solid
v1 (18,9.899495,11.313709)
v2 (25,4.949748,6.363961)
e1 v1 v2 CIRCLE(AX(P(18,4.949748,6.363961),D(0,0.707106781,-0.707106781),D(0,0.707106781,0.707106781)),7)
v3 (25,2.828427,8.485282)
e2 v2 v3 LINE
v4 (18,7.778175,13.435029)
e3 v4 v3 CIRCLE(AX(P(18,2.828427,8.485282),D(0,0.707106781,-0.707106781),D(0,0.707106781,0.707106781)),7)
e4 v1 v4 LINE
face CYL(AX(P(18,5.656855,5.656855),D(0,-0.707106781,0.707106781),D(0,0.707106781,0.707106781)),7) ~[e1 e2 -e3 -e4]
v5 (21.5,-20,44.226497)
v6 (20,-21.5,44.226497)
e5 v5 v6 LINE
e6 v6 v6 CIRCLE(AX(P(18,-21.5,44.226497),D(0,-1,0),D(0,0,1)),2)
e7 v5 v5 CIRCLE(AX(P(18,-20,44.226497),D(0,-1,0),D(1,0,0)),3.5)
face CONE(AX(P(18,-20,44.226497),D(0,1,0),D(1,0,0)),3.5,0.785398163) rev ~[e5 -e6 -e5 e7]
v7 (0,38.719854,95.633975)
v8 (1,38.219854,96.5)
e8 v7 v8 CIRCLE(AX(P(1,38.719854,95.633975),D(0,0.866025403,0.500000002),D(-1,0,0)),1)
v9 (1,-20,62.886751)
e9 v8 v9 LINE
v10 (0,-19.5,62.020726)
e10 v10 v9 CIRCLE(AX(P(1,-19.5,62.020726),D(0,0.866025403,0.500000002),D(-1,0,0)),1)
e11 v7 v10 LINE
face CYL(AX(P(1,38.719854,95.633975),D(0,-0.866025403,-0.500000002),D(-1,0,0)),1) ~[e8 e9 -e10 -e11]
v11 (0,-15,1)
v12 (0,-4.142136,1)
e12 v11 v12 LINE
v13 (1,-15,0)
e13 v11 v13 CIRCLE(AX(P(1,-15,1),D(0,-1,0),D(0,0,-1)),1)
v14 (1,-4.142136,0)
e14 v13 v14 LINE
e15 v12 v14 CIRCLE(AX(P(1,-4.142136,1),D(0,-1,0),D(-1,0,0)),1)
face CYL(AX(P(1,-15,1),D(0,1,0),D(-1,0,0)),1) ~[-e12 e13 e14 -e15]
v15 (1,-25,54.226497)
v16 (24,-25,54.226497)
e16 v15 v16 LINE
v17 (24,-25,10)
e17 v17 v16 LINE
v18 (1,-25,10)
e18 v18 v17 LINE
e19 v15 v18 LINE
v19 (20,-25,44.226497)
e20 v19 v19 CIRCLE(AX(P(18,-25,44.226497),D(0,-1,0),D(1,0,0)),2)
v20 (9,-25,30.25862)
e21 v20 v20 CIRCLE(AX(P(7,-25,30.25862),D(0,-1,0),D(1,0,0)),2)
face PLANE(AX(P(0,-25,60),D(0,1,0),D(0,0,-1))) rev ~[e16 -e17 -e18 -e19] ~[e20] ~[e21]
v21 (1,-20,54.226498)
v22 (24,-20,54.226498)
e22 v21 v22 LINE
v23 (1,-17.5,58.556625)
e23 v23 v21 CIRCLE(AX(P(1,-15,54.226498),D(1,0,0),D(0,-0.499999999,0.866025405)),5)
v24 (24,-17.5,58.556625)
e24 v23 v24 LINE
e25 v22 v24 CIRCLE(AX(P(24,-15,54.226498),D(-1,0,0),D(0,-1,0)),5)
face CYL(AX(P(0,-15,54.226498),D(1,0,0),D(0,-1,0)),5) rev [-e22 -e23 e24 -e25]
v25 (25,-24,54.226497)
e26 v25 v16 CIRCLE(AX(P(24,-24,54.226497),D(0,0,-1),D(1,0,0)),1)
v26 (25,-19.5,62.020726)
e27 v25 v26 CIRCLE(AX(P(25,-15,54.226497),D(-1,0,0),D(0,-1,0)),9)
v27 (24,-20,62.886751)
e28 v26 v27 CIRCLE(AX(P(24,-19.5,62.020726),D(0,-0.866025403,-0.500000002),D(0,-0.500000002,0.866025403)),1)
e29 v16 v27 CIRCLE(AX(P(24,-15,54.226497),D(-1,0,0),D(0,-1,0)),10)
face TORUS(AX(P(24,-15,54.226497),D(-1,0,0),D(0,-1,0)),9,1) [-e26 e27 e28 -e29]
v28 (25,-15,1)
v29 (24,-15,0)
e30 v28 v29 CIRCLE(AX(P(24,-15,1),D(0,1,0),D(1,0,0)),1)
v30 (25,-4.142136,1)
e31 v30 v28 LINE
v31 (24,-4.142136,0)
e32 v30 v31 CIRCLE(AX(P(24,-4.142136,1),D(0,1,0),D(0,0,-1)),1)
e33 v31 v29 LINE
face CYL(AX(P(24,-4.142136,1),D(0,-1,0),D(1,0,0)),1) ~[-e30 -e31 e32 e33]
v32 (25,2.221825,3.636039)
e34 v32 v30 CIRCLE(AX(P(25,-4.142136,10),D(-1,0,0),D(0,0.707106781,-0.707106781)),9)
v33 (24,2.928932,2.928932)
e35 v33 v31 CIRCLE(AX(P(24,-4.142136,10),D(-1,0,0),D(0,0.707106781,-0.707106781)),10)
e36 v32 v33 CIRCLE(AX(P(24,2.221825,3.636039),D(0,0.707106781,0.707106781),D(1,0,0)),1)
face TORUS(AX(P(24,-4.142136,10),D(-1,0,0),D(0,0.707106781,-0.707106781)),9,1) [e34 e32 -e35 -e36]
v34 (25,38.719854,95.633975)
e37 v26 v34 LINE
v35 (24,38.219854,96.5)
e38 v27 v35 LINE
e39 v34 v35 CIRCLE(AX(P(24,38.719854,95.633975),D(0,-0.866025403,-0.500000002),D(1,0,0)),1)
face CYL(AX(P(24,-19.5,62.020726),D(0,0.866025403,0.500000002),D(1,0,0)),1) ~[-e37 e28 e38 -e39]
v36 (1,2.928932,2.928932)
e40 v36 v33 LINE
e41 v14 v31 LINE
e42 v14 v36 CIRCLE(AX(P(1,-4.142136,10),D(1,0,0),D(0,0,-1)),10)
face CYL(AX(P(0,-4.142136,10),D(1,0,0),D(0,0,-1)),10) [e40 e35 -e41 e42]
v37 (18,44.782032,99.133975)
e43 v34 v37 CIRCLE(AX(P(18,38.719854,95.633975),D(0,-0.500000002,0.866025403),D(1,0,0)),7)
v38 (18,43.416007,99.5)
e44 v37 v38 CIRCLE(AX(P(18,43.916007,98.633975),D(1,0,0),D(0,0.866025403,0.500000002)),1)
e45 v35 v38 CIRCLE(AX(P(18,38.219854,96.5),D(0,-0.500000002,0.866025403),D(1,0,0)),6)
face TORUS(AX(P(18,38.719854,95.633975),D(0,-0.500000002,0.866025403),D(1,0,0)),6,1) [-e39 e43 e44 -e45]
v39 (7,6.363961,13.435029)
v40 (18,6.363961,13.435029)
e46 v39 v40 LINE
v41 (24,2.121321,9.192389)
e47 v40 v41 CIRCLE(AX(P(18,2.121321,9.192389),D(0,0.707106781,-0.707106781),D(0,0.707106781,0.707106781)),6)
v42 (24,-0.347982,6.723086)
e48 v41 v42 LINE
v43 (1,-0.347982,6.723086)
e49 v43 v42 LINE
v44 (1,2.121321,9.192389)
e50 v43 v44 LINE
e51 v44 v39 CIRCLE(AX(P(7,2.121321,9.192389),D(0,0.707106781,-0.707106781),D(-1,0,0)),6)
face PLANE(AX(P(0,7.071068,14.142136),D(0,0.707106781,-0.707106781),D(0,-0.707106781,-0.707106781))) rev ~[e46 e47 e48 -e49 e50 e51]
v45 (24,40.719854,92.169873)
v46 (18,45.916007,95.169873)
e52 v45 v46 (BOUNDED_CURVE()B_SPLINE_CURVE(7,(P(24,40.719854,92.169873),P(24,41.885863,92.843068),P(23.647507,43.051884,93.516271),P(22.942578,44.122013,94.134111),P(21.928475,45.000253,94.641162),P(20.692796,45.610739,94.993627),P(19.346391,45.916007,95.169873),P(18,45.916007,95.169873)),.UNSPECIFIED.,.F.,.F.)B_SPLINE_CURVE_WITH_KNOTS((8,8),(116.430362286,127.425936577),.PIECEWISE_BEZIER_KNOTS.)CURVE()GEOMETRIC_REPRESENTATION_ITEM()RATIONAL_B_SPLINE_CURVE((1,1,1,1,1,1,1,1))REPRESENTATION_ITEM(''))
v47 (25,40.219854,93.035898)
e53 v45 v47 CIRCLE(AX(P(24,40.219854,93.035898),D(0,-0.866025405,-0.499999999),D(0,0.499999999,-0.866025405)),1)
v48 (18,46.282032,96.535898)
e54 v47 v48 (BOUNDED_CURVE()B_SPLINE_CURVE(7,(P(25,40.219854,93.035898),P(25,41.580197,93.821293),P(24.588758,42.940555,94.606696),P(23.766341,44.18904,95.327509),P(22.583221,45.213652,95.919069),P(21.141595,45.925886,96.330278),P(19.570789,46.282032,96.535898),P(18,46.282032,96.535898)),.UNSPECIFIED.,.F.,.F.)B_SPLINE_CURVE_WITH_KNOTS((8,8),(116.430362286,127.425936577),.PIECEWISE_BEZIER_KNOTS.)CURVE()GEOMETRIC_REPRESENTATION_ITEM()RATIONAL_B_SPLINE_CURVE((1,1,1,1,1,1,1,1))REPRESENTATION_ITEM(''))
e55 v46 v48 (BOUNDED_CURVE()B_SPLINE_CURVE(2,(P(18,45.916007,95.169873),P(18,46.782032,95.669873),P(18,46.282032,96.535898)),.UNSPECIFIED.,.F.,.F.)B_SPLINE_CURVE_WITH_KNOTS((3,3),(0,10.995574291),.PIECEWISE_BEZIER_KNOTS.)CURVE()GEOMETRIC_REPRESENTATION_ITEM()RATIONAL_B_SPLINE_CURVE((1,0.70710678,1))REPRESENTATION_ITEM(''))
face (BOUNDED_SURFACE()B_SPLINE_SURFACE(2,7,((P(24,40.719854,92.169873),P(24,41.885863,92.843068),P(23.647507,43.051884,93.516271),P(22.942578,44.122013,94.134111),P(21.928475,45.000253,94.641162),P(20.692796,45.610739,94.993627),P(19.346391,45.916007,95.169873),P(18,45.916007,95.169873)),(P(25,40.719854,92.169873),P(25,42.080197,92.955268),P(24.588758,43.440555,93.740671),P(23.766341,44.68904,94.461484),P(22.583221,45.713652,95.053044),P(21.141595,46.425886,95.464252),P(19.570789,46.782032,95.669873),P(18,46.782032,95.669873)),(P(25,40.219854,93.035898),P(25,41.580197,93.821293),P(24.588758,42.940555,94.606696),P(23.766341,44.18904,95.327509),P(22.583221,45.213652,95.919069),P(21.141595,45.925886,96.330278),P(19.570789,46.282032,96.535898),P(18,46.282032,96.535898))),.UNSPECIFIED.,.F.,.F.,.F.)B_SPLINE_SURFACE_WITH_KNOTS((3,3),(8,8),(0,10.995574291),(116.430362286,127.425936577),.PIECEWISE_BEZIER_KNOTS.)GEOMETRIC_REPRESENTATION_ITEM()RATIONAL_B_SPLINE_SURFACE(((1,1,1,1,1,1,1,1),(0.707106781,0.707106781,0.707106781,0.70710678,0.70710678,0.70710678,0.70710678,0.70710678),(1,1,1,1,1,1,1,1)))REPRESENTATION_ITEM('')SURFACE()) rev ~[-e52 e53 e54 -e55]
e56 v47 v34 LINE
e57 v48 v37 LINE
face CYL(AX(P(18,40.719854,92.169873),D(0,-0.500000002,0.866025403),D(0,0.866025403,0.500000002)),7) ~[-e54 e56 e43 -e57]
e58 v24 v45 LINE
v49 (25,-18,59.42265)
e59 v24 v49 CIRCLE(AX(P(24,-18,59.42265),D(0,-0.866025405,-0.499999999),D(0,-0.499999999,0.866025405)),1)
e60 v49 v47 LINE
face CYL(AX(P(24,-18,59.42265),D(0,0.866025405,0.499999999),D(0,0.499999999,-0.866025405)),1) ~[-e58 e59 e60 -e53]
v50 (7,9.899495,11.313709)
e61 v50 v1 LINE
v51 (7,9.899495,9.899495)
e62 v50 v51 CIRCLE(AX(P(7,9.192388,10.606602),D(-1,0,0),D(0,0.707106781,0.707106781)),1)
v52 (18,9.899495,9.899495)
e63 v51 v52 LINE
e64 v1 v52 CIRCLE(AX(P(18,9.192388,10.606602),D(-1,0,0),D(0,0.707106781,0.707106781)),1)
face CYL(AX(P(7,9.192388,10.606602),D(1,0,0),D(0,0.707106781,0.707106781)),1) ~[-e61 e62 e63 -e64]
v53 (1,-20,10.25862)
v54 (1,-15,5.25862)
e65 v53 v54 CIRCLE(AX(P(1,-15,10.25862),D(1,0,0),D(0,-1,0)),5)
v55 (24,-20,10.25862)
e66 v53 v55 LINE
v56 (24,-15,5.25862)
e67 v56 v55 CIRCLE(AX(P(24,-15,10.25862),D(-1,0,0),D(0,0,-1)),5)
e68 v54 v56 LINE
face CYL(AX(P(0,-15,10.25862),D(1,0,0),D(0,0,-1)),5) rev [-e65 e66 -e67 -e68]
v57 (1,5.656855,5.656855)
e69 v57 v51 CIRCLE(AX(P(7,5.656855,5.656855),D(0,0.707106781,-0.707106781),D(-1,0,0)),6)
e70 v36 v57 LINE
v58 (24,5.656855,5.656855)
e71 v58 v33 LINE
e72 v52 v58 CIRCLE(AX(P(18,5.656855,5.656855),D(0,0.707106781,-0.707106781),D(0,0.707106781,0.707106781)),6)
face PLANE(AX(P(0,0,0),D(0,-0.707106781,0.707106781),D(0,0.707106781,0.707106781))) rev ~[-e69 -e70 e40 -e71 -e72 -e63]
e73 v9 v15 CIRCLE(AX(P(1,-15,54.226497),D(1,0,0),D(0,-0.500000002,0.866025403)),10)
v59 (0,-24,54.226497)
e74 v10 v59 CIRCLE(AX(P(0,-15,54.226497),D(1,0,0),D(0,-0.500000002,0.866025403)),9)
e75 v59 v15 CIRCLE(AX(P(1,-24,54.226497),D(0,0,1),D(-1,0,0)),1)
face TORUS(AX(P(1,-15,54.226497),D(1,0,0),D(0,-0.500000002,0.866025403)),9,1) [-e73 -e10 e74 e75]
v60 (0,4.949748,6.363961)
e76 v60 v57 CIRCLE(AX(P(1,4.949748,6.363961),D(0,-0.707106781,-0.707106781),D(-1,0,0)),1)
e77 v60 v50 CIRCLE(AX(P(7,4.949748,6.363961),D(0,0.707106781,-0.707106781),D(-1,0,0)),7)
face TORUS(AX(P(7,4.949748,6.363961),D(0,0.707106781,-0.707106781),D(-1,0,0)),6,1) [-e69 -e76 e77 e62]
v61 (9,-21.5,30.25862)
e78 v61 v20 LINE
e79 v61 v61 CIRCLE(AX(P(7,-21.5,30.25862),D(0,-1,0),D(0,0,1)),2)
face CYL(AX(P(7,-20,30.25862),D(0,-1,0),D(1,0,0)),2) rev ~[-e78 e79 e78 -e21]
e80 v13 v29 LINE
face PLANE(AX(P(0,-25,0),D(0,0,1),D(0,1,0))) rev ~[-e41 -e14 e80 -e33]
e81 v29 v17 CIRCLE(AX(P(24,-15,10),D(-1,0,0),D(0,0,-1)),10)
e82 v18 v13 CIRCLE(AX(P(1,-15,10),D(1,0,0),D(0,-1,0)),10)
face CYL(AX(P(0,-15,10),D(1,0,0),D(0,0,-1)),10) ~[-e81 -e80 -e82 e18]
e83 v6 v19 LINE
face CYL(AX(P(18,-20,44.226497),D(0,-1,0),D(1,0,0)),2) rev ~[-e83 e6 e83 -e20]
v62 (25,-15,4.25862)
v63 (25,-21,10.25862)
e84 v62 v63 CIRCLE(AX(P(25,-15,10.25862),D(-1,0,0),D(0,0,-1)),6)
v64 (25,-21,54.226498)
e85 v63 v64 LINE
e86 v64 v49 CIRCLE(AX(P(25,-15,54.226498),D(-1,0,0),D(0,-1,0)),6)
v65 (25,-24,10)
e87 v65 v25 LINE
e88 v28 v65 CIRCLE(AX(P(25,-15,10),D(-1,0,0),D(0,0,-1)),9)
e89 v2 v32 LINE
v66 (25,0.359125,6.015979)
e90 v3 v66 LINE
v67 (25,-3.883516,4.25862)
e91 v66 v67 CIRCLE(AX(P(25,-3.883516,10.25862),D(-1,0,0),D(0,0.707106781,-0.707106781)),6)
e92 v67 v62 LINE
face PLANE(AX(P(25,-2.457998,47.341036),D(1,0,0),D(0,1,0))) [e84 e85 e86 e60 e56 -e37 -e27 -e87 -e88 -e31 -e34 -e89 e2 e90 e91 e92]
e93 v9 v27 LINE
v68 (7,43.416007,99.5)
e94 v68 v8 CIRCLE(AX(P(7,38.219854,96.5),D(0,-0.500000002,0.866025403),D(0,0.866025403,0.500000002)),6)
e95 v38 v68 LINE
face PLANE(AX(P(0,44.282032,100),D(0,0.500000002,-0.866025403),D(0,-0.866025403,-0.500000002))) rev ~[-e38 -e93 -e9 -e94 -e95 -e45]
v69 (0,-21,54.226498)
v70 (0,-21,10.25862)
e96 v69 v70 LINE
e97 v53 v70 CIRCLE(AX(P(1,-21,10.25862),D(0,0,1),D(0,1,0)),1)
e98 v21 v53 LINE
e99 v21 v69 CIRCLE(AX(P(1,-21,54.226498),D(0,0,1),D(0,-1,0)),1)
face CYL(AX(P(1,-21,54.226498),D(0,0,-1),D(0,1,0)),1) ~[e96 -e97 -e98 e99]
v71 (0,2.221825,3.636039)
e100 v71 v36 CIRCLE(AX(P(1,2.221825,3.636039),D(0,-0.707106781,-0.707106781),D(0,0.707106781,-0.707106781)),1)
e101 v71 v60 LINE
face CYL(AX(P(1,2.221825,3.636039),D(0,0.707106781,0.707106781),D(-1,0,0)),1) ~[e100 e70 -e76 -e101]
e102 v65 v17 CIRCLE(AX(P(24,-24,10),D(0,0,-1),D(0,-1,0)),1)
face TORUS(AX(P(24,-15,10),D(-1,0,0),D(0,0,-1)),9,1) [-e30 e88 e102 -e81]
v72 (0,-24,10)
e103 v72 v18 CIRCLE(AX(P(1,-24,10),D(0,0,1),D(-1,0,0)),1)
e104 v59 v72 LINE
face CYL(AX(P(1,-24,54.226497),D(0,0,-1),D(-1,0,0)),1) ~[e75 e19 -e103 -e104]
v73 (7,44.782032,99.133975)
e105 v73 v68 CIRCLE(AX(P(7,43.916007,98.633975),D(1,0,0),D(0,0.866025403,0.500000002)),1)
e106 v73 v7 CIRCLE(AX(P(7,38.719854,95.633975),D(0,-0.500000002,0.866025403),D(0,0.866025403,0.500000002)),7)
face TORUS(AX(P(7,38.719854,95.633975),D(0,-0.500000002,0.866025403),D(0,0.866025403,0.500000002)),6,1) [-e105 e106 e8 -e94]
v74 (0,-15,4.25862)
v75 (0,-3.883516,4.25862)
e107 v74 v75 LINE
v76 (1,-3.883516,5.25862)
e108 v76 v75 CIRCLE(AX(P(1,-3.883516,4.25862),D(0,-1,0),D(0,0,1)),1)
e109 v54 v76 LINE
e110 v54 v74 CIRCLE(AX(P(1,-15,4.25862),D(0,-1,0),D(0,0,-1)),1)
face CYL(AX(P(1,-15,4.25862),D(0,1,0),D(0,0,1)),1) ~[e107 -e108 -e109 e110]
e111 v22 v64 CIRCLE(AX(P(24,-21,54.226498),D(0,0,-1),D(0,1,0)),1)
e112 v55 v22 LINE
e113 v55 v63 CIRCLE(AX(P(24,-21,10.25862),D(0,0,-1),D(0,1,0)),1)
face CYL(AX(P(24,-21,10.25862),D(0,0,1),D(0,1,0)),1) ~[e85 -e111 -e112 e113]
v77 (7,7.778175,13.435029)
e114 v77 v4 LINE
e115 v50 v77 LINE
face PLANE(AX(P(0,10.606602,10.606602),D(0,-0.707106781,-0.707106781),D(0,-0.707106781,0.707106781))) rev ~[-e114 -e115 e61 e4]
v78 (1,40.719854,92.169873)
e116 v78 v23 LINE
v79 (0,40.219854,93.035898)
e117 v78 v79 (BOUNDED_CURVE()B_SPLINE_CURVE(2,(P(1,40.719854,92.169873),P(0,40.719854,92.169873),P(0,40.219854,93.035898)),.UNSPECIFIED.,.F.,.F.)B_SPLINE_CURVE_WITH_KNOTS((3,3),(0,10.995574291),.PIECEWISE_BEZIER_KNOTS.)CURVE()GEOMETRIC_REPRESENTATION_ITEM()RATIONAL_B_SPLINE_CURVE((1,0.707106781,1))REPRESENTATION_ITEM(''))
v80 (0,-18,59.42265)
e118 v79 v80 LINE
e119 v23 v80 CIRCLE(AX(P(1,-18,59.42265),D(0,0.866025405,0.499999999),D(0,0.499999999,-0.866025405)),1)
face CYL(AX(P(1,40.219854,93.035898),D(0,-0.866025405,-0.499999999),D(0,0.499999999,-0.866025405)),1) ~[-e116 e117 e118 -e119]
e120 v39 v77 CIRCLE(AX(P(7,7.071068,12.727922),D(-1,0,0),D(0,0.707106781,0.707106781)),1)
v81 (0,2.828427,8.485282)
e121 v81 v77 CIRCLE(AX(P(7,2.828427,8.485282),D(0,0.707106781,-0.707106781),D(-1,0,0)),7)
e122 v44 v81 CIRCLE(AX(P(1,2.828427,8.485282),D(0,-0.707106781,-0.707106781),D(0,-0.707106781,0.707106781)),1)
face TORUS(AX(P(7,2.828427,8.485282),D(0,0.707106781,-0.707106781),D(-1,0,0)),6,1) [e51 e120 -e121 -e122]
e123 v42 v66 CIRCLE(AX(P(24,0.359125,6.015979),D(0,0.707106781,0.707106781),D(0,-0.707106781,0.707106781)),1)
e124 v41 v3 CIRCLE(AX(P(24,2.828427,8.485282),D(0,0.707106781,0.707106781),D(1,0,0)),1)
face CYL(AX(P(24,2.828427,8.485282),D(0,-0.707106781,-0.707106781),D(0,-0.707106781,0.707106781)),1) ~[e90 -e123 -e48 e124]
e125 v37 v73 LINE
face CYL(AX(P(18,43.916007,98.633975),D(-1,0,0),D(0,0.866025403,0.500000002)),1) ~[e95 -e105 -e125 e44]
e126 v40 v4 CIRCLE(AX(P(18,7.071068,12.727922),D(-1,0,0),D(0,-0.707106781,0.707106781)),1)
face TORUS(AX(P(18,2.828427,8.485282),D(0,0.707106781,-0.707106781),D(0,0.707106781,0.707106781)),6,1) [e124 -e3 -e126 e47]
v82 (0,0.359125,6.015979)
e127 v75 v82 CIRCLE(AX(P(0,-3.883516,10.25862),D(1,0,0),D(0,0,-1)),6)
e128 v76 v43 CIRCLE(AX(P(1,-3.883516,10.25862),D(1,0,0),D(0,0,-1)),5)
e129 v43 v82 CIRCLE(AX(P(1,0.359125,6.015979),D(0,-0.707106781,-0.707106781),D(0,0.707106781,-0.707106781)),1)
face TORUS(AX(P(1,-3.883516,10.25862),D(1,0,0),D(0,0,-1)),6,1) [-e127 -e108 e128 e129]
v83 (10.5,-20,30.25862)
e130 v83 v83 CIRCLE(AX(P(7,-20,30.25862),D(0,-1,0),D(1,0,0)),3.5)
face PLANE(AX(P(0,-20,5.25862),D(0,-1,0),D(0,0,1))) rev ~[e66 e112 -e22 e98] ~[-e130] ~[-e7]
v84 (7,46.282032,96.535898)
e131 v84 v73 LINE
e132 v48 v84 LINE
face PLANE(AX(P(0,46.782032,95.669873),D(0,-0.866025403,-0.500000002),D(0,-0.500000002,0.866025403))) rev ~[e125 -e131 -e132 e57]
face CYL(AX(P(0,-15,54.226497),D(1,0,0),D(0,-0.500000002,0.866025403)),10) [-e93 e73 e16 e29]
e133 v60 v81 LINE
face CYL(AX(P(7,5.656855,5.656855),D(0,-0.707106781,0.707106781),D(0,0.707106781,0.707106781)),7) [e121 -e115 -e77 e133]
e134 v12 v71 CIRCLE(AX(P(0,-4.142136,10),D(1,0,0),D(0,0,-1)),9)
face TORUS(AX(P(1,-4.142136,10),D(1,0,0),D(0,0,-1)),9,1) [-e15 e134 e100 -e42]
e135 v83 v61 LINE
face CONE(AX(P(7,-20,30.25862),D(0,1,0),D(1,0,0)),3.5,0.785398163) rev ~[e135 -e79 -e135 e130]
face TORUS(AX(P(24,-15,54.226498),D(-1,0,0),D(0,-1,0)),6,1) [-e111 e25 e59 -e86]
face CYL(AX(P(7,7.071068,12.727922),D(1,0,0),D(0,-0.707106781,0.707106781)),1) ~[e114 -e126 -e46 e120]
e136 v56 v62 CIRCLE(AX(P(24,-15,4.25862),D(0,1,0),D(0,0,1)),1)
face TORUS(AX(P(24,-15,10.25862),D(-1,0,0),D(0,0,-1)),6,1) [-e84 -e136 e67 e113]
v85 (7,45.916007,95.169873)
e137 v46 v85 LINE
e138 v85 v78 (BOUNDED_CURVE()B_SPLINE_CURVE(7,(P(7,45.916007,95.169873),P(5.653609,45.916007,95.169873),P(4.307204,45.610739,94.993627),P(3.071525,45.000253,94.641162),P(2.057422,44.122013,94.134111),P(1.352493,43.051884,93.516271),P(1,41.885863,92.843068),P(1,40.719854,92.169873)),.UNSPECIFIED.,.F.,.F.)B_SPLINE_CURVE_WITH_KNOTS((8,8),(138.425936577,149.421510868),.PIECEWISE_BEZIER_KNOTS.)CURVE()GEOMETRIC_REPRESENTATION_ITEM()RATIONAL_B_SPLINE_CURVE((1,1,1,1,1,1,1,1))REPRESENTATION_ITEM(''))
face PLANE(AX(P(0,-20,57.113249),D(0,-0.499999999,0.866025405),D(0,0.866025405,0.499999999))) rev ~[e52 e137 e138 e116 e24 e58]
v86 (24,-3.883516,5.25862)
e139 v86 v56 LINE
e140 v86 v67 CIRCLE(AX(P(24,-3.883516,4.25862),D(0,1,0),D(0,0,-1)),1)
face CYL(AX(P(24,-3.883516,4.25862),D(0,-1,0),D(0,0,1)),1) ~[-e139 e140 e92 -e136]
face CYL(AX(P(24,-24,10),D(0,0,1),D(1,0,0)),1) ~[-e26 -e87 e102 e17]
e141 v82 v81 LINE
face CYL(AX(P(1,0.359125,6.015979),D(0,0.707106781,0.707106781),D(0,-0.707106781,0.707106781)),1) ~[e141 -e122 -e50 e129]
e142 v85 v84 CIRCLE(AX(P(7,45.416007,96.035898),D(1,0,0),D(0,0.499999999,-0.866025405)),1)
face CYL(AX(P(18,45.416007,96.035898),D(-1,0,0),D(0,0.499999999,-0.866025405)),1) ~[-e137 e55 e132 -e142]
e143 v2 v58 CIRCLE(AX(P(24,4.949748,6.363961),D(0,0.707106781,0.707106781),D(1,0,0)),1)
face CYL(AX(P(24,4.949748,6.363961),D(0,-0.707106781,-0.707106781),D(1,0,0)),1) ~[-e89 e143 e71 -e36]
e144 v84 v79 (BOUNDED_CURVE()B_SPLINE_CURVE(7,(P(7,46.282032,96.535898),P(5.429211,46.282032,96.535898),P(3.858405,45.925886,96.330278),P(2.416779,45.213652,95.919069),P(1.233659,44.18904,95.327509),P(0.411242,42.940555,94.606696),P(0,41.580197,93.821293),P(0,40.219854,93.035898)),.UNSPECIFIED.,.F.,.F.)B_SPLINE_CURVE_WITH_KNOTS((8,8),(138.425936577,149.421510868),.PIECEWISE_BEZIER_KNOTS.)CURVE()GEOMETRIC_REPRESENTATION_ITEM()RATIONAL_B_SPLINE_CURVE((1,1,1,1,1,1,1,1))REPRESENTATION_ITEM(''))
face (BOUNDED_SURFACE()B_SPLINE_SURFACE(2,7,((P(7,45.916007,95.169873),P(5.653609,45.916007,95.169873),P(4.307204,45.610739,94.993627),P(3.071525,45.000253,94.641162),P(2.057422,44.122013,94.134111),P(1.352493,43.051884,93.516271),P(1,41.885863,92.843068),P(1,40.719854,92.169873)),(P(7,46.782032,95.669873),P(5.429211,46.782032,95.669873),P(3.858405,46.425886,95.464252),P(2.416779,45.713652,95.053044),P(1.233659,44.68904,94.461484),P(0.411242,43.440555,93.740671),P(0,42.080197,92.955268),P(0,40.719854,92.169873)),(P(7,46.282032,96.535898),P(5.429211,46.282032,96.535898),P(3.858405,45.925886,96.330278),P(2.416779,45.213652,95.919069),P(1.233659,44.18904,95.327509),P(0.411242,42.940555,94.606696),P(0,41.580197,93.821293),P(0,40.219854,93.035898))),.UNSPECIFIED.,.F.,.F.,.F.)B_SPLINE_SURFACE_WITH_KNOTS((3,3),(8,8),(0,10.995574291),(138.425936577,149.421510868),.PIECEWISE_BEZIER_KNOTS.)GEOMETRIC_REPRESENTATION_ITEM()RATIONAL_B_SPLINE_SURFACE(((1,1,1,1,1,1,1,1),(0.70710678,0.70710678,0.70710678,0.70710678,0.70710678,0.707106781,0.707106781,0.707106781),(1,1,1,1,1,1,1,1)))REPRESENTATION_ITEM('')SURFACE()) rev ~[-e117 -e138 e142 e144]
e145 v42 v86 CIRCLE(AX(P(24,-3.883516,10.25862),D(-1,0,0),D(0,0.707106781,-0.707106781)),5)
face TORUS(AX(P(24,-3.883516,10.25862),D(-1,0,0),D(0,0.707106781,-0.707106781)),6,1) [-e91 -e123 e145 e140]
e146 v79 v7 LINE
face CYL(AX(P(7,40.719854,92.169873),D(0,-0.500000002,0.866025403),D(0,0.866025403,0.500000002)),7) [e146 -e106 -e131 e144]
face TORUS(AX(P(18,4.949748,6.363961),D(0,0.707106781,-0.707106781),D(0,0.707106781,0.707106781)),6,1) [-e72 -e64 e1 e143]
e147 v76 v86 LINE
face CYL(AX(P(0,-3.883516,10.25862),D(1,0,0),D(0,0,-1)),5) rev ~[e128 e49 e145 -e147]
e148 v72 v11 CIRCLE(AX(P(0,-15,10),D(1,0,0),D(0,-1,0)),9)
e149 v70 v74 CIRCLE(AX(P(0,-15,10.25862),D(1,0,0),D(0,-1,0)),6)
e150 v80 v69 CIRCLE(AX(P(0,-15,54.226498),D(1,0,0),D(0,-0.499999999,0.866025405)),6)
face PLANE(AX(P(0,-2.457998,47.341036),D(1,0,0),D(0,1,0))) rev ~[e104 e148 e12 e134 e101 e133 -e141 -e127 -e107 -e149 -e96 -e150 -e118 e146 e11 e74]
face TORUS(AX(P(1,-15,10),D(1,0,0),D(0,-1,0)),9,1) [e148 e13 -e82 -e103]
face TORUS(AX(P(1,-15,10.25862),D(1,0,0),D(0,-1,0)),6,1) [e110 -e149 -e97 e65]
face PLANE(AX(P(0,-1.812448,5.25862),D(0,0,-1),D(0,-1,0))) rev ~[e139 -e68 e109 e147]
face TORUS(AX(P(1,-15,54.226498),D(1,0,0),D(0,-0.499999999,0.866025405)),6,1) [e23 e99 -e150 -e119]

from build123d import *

# Parameters (mm, degrees)
F1_DEPTH        = 25
F2_R            = 7
F3_R            = 5
F4_R            = 10
F5_R            = 5
F6_R            = 10
F7_R            = 10
F8_R            = 1
F9_R            = 5
F10_R           = 1
F12_D           = 4
F12_CSINK_D     = 7
F12_CSINK_ANGLE = 90


with BuildPart() as f1:
    # F0 (on Right) → F1 (new body)
    with BuildSketch(Plane.YZ):
        Polygon((-25, 60), (-25, 0), (0, 0), (10.606602, 10.606602), (7.071068, 14.142136), (-1.812448, 5.25862), (-20, 5.25862), (-20, 57.113249), (46.782032, 95.669873), (44.282032, 100), align=None)
    extrude(amount=F1_DEPTH)

    # F2
    f2_edges = [f1.edges().sort_by_distance(p)[0] for p in [
        (25, 8.838835, 12.374369),
        (0, 8.838835, 12.374369),
        (25, 45.532032, 97.834936),
        (0, 45.532032, 97.834936),
    ]]
    fillet(f2_edges, radius=F2_R)

    # F3
    f3_edges = [f1.edges().sort_by_distance(p)[0] for p in [
        (12.5, -20, 57.113249),
    ]]
    fillet(f3_edges, radius=F3_R)

    # F4
    f4_edges = [f1.edges().sort_by_distance(p)[0] for p in [
        (12.5, -25, 60),
    ]]
    fillet(f4_edges, radius=F4_R)

    # F5
    f5_edges = [f1.edges().sort_by_distance(p)[0] for p in [
        (12.5, -1.812448, 5.25862),
    ]]
    fillet(f5_edges, radius=F5_R)

    # F6
    f6_edges = [f1.edges().sort_by_distance(p)[0] for p in [
        (12.5, -25, 0),
    ]]
    fillet(f6_edges, radius=F6_R)

    # F7
    f7_edges = [f1.edges().sort_by_distance(p)[0] for p in [
        (12.5, 0, 0),
    ]]
    fillet(f7_edges, radius=F7_R)

    # F8
    f8_edges = [f1.edges().sort_by_distance(p)[0] for p in [
        (0, -25, 32.113249),
    ]]
    fillet(f8_edges, radius=F8_R)

    # F9
    f9_edges = [f1.edges().sort_by_distance(p)[0] for p in [
        (12.5, -20, 5.25862),
    ]]
    fillet(f9_edges, radius=F9_R)

    # F10
    f10_edges = [f1.edges().sort_by_distance(p)[0] for p in [
        (25, -20, 32.242559),
    ]]
    fillet(f10_edges, radius=F10_R)

    # F12 (through all)
    with Locations(Plane(origin=(0, -20, 0), x_dir=(-1, 0, 0), z_dir=(0, 1, 0))):
        with Locations((-18, 44.226497), (-7, 30.25862)):
            CounterSinkHole(F12_D / 2, F12_CSINK_D / 2, counter_sink_angle=F12_CSINK_ANGLE)


solid = f1.part
